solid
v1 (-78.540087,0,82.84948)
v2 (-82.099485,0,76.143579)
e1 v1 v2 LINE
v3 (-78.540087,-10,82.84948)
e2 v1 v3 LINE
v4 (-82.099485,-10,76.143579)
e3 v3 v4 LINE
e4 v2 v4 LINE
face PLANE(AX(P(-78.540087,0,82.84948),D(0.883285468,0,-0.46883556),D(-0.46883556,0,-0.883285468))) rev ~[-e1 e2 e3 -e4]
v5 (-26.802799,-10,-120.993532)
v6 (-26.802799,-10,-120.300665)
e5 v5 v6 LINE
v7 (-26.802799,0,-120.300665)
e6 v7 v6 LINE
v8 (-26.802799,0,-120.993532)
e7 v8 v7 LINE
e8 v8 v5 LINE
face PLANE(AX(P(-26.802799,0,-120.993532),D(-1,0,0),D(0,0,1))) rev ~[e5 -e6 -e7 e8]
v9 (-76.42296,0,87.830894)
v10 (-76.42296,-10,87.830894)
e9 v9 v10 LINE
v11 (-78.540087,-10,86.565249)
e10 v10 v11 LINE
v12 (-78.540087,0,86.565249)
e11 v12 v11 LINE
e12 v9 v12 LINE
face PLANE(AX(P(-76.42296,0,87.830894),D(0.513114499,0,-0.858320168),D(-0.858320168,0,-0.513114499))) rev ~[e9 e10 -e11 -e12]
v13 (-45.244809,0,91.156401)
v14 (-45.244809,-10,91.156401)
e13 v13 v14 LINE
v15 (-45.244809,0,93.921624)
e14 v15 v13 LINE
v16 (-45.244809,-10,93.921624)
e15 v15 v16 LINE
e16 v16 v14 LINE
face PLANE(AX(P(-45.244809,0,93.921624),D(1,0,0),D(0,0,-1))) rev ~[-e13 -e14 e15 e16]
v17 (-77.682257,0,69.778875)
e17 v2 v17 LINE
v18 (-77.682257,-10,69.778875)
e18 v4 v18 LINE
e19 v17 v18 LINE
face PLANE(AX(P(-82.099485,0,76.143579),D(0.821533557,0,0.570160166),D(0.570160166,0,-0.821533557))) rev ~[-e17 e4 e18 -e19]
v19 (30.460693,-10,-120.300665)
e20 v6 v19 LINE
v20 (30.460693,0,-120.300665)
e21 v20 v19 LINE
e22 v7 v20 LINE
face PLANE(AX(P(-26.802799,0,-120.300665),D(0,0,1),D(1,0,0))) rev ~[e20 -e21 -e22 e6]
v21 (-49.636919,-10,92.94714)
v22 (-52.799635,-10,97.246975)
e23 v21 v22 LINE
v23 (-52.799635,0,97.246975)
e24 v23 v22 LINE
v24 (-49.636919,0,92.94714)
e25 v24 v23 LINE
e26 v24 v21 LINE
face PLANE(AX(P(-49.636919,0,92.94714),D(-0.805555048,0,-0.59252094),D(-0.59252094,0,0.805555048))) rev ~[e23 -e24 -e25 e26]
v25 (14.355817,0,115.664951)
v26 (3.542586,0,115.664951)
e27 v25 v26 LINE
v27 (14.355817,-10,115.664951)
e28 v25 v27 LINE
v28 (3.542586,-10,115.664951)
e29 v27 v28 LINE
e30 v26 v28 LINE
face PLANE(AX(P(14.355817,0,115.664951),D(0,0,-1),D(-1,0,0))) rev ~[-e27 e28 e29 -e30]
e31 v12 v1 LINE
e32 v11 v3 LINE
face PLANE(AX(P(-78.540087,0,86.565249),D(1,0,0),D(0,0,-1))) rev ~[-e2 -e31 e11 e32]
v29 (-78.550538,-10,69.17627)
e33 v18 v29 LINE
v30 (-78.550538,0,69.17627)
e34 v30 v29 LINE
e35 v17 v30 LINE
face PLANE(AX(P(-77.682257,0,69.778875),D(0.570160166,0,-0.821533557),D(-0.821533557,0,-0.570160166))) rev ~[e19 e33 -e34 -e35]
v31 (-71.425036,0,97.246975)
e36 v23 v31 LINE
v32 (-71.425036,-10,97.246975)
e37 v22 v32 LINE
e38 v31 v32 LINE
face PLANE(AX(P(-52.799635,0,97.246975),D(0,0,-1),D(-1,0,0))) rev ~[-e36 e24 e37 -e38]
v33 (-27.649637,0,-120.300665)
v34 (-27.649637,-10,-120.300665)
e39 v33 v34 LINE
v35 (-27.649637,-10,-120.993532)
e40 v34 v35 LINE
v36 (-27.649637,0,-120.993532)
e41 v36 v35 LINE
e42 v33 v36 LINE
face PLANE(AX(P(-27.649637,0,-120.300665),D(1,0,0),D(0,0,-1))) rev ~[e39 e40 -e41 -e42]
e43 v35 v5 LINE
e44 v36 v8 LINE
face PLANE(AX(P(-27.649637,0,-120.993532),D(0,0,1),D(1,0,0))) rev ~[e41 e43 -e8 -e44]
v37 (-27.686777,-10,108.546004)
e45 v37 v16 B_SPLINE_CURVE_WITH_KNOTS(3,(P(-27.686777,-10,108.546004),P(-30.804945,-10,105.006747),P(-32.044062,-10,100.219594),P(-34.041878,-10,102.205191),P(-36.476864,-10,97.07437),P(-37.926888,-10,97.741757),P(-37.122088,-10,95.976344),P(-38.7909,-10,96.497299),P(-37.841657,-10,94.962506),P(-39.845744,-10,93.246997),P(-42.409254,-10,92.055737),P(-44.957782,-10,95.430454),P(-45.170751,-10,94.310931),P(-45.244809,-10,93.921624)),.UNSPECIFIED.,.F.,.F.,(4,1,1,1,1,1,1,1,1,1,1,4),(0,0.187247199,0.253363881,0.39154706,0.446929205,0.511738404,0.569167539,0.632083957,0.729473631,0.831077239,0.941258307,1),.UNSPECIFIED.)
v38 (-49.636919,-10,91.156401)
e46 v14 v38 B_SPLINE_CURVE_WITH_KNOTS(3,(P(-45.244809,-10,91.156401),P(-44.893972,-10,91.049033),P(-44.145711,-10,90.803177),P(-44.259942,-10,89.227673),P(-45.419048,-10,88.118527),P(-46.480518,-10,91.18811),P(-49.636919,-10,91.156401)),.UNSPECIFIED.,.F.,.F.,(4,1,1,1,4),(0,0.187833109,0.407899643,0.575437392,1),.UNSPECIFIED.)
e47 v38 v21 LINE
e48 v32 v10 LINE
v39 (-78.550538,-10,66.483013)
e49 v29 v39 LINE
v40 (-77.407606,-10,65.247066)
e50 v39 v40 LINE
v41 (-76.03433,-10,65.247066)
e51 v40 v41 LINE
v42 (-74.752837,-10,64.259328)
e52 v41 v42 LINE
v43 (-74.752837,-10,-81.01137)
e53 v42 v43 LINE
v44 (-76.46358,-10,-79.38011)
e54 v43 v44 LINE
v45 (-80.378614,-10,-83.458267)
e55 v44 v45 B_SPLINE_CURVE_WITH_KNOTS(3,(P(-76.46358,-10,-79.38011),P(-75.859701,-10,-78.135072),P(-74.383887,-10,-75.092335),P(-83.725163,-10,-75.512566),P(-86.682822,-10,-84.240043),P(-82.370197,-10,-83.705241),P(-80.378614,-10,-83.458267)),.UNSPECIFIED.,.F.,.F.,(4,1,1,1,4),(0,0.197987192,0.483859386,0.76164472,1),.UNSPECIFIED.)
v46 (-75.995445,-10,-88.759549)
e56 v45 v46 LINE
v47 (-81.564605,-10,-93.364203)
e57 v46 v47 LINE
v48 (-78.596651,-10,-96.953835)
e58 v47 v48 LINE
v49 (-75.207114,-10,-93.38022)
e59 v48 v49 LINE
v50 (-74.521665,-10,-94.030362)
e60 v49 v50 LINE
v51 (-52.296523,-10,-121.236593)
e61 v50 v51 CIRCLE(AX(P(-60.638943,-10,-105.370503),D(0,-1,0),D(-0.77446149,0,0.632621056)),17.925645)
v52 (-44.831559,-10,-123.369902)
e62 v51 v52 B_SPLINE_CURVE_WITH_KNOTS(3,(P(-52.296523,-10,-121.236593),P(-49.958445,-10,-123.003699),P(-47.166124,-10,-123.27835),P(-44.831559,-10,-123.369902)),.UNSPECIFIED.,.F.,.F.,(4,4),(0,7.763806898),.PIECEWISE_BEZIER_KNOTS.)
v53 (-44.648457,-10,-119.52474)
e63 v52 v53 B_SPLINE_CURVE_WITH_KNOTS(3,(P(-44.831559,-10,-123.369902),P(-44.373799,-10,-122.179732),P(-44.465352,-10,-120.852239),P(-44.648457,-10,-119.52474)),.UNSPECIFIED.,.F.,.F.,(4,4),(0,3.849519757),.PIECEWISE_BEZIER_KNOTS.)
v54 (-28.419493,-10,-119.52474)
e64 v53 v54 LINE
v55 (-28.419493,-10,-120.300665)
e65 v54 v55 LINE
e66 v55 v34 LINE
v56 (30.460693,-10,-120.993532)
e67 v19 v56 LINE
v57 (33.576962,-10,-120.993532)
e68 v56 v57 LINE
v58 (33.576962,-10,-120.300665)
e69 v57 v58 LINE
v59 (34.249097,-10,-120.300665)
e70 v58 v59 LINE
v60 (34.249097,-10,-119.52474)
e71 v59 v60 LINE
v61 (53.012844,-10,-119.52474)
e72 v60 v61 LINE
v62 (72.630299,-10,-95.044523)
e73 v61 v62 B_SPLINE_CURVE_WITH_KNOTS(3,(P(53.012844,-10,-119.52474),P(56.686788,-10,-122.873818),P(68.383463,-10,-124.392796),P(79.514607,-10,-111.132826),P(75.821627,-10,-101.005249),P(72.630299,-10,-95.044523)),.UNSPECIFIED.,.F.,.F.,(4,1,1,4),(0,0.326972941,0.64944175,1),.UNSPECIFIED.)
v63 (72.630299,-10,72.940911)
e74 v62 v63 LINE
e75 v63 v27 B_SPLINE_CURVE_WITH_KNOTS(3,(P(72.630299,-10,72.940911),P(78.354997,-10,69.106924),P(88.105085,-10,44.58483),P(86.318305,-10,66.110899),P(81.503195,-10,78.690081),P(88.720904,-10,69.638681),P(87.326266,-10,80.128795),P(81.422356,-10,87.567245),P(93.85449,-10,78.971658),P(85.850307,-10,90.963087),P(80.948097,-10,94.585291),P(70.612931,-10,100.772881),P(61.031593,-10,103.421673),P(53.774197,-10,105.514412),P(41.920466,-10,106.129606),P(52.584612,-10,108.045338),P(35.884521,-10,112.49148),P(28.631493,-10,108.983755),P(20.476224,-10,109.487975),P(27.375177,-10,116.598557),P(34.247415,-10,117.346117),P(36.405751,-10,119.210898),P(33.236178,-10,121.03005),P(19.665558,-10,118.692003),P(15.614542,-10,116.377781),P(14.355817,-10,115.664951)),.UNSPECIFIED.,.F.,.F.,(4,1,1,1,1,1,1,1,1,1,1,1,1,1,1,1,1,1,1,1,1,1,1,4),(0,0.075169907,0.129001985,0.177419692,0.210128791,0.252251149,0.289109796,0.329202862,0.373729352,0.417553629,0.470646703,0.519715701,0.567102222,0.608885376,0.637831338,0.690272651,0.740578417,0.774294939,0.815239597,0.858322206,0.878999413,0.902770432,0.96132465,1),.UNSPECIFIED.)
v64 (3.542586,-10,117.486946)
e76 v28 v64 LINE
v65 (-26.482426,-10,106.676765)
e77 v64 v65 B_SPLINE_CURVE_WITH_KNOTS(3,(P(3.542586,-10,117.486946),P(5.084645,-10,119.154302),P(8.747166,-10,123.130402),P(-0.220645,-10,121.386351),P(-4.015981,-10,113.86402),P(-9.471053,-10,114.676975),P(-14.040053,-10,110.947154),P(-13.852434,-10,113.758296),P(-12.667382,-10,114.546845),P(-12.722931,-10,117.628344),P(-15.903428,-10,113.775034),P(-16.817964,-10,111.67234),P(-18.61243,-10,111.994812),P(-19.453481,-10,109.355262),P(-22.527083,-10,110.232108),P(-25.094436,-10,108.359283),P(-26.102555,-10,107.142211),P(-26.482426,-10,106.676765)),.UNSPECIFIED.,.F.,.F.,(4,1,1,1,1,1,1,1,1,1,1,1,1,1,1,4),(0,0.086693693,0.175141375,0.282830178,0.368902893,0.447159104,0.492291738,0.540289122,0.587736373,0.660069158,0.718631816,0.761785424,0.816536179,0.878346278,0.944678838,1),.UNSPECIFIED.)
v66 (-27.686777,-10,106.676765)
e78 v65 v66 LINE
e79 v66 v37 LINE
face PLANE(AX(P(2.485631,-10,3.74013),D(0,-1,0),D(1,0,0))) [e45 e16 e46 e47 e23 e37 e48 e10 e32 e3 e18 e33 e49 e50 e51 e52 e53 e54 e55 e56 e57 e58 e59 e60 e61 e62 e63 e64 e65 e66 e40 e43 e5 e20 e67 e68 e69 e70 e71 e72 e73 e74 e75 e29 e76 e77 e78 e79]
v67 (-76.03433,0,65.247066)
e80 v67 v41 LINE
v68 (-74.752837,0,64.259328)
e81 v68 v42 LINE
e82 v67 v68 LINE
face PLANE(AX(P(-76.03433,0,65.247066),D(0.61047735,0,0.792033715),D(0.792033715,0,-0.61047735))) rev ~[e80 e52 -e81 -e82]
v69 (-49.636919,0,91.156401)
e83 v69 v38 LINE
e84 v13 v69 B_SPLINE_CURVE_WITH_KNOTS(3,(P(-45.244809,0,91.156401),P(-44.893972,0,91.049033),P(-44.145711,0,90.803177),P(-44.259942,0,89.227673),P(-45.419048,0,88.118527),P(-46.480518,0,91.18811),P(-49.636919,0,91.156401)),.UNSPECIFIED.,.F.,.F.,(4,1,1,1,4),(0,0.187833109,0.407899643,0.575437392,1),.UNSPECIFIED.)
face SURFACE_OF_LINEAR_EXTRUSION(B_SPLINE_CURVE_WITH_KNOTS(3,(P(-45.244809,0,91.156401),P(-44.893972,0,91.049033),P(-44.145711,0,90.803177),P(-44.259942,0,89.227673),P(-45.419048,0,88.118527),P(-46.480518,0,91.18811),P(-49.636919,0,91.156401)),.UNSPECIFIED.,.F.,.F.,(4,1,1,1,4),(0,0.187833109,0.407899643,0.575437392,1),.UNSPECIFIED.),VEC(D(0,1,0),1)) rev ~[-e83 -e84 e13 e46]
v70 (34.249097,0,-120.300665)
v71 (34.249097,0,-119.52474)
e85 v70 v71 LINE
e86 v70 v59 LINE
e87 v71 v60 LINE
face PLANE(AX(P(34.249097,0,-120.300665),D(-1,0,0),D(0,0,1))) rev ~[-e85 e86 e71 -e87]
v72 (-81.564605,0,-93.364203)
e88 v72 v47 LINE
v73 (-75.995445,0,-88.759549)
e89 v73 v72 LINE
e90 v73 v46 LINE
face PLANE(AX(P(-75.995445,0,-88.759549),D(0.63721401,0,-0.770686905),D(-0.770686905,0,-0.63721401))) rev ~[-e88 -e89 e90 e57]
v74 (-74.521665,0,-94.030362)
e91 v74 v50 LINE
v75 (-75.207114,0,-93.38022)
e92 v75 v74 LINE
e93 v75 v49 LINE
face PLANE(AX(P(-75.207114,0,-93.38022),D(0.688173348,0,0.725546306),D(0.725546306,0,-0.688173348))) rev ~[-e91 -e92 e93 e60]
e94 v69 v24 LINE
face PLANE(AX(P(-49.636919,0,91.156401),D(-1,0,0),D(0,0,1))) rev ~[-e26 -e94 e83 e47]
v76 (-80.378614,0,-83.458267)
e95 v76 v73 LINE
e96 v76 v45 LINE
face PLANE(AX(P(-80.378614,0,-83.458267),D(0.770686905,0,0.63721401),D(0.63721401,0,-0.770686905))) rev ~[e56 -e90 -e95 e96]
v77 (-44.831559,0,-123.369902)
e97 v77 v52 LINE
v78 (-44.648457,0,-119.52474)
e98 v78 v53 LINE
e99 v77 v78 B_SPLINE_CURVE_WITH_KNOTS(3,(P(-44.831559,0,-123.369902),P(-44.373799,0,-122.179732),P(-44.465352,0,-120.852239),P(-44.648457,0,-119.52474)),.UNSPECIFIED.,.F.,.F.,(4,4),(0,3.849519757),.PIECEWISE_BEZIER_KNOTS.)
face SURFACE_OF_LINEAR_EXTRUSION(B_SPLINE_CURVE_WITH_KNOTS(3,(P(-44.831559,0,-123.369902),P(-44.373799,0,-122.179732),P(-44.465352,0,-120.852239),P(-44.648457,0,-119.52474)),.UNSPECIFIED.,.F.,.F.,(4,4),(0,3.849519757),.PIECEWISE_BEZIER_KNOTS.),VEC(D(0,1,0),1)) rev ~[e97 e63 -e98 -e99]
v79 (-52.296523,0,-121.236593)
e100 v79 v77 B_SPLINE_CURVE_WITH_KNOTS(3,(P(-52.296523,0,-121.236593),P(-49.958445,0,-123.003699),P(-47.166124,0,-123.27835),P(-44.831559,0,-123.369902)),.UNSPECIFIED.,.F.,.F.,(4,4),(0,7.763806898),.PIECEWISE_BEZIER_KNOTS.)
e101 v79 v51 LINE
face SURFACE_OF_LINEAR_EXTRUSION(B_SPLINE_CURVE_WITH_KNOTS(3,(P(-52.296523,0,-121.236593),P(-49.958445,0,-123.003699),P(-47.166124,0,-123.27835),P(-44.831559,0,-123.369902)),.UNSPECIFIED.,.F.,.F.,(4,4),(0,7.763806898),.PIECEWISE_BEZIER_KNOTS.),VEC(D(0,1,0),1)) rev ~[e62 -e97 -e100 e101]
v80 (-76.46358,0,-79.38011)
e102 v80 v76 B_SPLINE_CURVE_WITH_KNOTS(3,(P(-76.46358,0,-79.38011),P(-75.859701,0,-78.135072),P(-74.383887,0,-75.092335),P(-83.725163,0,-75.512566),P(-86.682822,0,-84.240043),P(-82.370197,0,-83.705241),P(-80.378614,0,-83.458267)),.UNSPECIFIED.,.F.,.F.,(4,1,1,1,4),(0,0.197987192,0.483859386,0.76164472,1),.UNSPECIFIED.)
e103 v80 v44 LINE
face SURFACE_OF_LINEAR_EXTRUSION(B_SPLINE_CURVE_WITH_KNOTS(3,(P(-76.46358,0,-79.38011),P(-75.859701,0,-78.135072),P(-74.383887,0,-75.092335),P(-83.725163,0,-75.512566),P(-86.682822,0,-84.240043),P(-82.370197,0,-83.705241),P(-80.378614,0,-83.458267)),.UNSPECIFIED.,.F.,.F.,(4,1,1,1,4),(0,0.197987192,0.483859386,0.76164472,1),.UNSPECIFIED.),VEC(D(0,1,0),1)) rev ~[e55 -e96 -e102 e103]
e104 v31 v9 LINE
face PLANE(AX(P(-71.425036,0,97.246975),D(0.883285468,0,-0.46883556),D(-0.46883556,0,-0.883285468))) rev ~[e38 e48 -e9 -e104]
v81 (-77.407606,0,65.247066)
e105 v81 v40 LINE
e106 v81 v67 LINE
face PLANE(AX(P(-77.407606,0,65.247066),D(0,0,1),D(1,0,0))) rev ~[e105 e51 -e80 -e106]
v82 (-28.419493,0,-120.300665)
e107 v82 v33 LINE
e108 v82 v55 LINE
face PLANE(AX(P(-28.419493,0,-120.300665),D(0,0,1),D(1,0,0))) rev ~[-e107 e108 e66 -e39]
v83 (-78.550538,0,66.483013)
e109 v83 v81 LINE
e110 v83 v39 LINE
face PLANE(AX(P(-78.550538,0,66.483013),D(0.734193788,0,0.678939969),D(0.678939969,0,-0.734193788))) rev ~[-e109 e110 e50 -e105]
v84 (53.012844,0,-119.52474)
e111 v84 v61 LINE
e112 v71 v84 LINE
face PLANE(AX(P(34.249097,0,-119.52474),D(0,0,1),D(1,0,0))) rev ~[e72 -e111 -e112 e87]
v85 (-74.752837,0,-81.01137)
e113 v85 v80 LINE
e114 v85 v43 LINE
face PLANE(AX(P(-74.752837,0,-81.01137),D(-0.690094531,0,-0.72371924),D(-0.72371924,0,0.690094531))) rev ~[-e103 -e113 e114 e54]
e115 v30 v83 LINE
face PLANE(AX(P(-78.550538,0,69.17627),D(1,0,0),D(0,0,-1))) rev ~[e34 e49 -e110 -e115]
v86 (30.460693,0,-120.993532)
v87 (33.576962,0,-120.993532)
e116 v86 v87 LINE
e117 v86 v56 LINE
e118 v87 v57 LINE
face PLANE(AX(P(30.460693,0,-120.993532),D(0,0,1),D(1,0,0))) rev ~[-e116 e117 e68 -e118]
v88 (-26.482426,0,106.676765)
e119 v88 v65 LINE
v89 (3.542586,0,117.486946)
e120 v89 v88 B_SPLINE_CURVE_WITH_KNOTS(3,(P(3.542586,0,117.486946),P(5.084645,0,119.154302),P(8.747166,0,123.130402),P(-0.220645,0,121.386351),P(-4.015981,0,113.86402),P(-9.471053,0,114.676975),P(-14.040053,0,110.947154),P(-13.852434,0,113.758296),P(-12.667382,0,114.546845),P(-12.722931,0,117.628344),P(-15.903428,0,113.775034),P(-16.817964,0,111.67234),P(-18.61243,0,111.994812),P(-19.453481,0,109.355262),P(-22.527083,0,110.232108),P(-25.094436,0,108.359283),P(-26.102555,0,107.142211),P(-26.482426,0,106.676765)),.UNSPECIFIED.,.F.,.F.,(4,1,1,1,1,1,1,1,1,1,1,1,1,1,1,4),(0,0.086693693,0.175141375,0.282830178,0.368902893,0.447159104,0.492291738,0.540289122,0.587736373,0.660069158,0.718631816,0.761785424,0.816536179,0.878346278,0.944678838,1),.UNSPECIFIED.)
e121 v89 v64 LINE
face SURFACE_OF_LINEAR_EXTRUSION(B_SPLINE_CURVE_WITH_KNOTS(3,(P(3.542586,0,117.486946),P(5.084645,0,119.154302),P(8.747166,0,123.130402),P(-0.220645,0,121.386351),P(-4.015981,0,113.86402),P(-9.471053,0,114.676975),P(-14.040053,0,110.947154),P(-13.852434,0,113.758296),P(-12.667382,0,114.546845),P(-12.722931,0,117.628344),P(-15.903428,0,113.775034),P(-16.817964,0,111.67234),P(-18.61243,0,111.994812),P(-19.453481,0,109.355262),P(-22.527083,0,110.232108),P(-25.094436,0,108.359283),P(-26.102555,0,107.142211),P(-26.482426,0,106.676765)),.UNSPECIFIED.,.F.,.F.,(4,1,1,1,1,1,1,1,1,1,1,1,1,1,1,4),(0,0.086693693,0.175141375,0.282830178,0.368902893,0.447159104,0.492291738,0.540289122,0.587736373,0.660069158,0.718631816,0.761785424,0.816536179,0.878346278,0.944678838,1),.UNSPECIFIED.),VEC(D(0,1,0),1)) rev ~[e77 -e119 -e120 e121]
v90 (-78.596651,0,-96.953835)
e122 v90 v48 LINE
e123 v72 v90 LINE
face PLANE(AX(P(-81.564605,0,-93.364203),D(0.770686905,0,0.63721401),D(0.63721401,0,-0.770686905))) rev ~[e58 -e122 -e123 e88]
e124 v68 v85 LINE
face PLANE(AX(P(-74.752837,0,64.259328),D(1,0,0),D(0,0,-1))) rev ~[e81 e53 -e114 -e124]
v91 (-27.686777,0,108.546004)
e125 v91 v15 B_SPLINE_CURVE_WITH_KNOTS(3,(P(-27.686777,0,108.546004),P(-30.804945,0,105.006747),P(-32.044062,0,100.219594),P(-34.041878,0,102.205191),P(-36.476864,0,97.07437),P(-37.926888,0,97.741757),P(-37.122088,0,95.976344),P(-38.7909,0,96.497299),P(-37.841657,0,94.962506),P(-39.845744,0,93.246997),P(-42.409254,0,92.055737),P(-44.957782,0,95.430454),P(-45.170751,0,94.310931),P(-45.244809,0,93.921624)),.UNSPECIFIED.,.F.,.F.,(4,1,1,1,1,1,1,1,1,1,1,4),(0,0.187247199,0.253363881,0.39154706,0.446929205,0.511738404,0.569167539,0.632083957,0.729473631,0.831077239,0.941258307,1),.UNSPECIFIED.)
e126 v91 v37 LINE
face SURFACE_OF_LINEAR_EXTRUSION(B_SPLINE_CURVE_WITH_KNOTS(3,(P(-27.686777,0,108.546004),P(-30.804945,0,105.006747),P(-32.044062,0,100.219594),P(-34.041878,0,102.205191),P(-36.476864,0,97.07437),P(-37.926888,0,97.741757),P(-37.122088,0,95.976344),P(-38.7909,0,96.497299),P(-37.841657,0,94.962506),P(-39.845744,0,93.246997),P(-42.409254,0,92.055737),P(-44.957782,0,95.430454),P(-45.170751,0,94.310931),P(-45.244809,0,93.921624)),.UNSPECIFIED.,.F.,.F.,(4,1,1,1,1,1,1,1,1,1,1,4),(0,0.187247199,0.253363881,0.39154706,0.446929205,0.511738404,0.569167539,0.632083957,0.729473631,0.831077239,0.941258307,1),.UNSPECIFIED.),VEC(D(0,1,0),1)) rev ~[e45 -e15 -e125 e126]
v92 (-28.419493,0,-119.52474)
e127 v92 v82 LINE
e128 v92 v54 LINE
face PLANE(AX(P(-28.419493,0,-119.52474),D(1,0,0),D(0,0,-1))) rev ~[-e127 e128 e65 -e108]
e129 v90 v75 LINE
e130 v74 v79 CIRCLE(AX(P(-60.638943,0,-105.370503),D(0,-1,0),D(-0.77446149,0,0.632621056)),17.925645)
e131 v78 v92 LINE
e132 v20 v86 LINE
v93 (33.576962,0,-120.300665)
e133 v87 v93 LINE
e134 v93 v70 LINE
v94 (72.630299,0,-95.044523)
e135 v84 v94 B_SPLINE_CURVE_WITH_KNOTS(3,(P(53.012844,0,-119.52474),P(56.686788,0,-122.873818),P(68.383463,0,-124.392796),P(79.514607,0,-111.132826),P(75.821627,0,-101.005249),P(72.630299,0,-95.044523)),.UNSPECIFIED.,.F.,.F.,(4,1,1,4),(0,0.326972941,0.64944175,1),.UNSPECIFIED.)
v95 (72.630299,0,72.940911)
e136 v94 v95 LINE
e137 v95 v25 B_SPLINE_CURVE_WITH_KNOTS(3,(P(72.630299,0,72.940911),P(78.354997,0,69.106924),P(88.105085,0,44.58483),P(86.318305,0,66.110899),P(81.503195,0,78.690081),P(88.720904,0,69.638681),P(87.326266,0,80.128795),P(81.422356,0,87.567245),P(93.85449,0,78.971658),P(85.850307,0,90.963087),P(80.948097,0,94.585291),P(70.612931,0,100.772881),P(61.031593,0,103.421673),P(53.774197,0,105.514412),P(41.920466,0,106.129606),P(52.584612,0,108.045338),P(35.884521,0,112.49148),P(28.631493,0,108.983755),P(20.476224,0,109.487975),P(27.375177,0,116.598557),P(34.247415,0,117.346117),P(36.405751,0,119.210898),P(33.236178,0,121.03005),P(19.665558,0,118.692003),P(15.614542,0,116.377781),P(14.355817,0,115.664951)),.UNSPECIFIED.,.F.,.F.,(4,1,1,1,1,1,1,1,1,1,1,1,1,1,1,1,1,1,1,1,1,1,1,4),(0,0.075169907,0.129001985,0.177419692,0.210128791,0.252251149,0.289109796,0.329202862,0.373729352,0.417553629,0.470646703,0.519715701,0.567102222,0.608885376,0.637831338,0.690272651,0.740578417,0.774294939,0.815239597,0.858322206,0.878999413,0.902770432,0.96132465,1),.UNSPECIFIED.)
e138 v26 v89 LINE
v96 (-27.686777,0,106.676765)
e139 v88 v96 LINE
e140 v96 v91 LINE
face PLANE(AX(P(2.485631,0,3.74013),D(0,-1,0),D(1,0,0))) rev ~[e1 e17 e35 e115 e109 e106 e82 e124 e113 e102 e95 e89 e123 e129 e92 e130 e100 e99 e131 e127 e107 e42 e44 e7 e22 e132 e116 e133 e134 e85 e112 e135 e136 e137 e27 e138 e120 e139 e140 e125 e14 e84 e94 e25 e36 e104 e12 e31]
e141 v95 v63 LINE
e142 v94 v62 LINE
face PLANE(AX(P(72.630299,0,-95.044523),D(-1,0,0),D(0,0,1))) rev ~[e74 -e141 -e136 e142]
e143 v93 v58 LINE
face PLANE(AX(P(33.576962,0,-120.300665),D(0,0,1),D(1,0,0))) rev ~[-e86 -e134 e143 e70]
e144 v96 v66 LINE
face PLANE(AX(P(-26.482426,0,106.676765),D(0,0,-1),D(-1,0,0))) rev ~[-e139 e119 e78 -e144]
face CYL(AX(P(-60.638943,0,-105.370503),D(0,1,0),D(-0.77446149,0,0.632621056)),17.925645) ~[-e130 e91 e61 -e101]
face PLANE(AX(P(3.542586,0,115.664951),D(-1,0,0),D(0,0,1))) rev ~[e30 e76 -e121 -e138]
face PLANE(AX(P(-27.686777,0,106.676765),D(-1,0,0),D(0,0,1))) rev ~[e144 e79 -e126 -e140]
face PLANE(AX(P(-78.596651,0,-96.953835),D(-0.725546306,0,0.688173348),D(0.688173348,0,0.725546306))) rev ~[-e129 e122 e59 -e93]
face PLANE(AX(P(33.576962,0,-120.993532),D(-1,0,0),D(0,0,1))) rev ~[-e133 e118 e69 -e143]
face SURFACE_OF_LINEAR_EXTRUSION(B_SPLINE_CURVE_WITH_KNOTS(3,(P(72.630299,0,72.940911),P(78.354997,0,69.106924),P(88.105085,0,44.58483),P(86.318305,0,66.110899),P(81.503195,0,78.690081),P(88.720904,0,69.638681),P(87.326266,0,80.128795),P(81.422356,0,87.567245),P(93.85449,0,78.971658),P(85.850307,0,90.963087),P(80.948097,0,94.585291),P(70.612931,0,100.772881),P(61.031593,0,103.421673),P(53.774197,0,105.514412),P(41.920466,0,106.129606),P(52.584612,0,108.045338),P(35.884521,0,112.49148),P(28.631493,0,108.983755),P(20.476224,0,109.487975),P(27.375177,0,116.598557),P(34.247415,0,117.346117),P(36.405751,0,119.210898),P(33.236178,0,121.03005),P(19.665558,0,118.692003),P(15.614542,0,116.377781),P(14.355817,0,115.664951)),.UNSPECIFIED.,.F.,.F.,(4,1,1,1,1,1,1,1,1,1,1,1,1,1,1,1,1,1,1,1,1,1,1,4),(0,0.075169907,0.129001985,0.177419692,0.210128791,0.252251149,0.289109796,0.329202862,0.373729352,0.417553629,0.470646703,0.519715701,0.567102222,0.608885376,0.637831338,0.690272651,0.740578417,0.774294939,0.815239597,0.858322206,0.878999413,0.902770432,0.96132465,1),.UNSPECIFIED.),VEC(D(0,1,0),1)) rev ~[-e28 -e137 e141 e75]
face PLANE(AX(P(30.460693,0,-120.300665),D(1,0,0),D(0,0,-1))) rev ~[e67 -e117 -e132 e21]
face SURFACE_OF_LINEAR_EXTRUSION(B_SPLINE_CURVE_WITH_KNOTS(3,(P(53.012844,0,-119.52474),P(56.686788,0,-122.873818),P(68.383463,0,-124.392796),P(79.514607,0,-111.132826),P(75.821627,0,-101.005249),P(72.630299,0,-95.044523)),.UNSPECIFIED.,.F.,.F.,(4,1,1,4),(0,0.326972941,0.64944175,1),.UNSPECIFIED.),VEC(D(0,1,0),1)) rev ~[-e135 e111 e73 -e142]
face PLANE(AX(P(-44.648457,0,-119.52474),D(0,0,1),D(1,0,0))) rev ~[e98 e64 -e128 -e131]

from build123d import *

# Parameters (mm, degrees)
F1_DEPTH = 10


with BuildPart() as f1:
    # F0 (on Front) → F1 (new body)
    with BuildSketch(Plane.XZ):
        with BuildLine():
            Line((-76.0343298316, 65.247066319), (-74.7528374195, 64.2593279481))
            Line((-74.7528374195, 64.2593279481), (-74.7528374195, -81.0113698244))
            Line((-74.7528374195, -81.0113698244), (-76.4635801315, -79.3801099062))
            add(Edge.make_bspline(
                [(-76.4635801315, -79.3801099062), (-75.8597014247, -78.1350723595), (-74.38388687, -75.0923346181), (-83.7251625502, -75.51256552), (-86.682822247, -84.2400434032), (-82.3701974138, -83.7052406592), (-80.3786143661, -83.4582671523)],
                knots=[0, 0, 0, 0, 0.1979871923, 0.4838593856, 0.7616447204, 1, 1, 1, 1], degree=3))
            Line((-80.3786143661, -83.4582671523), (-75.9954452515, -88.7595489621))
            Line((-75.9954452515, -88.7595489621), (-81.5646054561, -93.364203436))
            Line((-81.5646054561, -93.364203436), (-78.5966514293, -96.9538346556))
            Line((-78.5966514293, -96.9538346556), (-75.2071142197, -93.3802202344))
            Line((-75.2071142197, -93.3802202344), (-74.5216647549, -94.0303621334))
            ThreePointArc((-74.5216647549, -94.0303621334), (-74.5212508461, -116.7111503548), (-52.2965230048, -121.2365925312))
            add(Edge.make_bspline(
                [(-52.2965230048, -121.2365925312), (-49.9584451318, -123.0036988854), (-47.1661239862, -123.278349638), (-44.831559062, -123.3699023724)],
                knots=[0, 0, 0, 0, 7.7638068977, 7.7638068977, 7.7638068977, 7.7638068977], degree=3))
            add(Edge.make_bspline(
                [(-44.831559062, -123.3699023724), (-44.3737991154, -122.1797317266), (-44.4653518498, -120.85223943), (-44.6484573185, -119.5247396827)],
                knots=[0, 0, 0, 0, 3.8495197569, 3.8495197569, 3.8495197569, 3.8495197569], degree=3))
            Line((-44.6484573185, -119.5247396827), (-28.4194927663, -119.5247396827))
            Line((-28.4194927663, -119.5247396827), (-28.4194927663, -120.3006654978))
            Line((-28.4194927663, -120.3006654978), (-27.6496373117, -120.3006654978))
            Line((-27.6496373117, -120.3006654978), (-27.6496373117, -120.9935322404))
            Line((-27.6496373117, -120.9935322404), (-26.8027987331, -120.9935322404))
            Line((-26.8027987331, -120.9935322404), (-26.8027987331, -120.3006654978))
            Line((-26.8027987331, -120.3006654978), (30.4606929421, -120.3006654978))
            Line((30.4606929421, -120.3006654978), (30.4606929421, -120.9935322404))
            Line((30.4606929421, -120.9935322404), (33.5769616067, -120.9935322404))
            Line((33.5769616067, -120.9935322404), (33.5769616067, -120.3006654978))
            Line((33.5769616067, -120.3006654978), (34.2490971088, -120.3006654978))
            Line((34.2490971088, -120.3006654978), (34.2490971088, -119.5247396827))
            Line((34.2490971088, -119.5247396827), (53.0128441751, -119.5247396827))
            add(Edge.make_bspline(
                [(53.0128441751, -119.5247396827), (56.6867876337, -122.8738181923), (68.3834625305, -124.3927963951), (79.5146073452, -111.1328256453), (75.8216270291, -101.00524933), (72.6302986431, -95.0445234776)],
                knots=[0, 0, 0, 0, 0.326972941, 0.6494417501, 1, 1, 1, 1], degree=3))
            Line((72.6302986431, -95.0445234776), (72.6302986431, 72.9409110646))
            add(Edge.make_bspline(
                [(72.6302986431, 72.9409110646), (78.3549974252, 69.1069244126), (88.1050849711, 44.5848299603), (86.3183054465, 66.1108992051), (81.5031950886, 78.6900807549), (88.7209038255, 69.6386807005), (87.326265989, 80.1287945298), (81.4223562698, 87.5672452077), (93.8544902752, 78.9716576404), (85.8503073652, 90.9630870856), (80.9480973955, 94.5852914911), (70.61293057, 100.7728813906), (61.0315932807, 103.4216731792), (53.7741972923, 105.5144117546), (41.9204664331, 106.1296059585), (52.5846122111, 108.0453381737), (35.8845205713, 112.4914797344), (28.6314928232, 108.9837550589), (20.4762239158, 109.4879750129), (27.3751767133, 116.5985572916), (34.2474152025, 117.3461166133), (36.4057508864, 119.210898049), (33.2361782198, 121.0300498872), (19.6655584132, 118.6920033999), (15.6145416363, 116.3777809293), (14.3558174983, 115.6649505334)],
                knots=[0, 0, 0, 0, 0.0751699071, 0.1290019852, 0.1774196917, 0.2101287908, 0.2522511492, 0.2891097961, 0.3292028621, 0.3737293524, 0.417553629, 0.4706467031, 0.5197157012, 0.5671022215, 0.6088853764, 0.6378313385, 0.6902726511, 0.740578417, 0.7742949388, 0.8152395972, 0.8583222063, 0.878999413, 0.9027704318, 0.96132465, 1, 1, 1, 1], degree=3))
            Line((14.3558174983, 115.6649505334), (3.5425864626, 115.6649505334))
            Line((3.5425864626, 115.6649505334), (3.5425864626, 117.4869462848))
            add(Edge.make_bspline(
                [(3.5425864626, 117.4869462848), (5.0846447535, 119.1543024523), (8.7471655861, 123.1304023557), (-0.2206452735, 121.3863510411), (-4.0159812684, 113.8640204534), (-9.4710529705, 114.6769745125), (-14.0400530005, 110.9471539466), (-13.8524341575, 113.7582960261), (-12.6673817279, 114.546845304), (-12.7229314222, 117.6283436718), (-15.9034276402, 113.775034412), (-16.817964407, 111.6723404439), (-18.6124301024, 111.9948124068), (-19.4534811463, 109.3552615086), (-22.5270831738, 110.2321080539), (-25.0944355928, 108.3592830328), (-26.1025552777, 107.1422113961), (-26.4824256301, 106.6767647862)],
                knots=[0, 0, 0, 0, 0.0866936929, 0.1751413751, 0.2828301785, 0.3689028933, 0.4471591041, 0.4922917384, 0.5402891223, 0.5877363731, 0.6600691576, 0.7186318162, 0.7617854235, 0.8165361787, 0.8783462783, 0.9446788382, 1, 1, 1, 1], degree=3))
            Line((-26.4824256301, 106.6767647862), (-27.6867765933, 106.6767647862))
            Line((-27.6867765933, 106.6767647862), (-27.6867765933, 108.5460036993))
            add(Edge.make_bspline(
                [(-27.6867765933, 108.5460036993), (-30.804945156, 105.0067469478), (-32.0440618318, 100.2195935299), (-34.0418783598, 102.2051911967), (-36.4768639406, 97.0743698095), (-37.9268884434, 97.7417569788), (-37.1220876621, 95.9763435702), (-38.7909003179, 96.4972994372), (-37.8416565919, 94.9625062317), (-39.8457443547, 93.2469970355), (-42.4092535372, 92.0557374821), (-44.9577824606, 95.4304543419), (-45.17075076, 94.3109305772), (-45.2448092401, 93.9216241241)],
                knots=[0, 0, 0, 0, 0.1872471992, 0.2533638808, 0.3915470599, 0.4469292053, 0.5117384042, 0.5691675388, 0.632083957, 0.7294736308, 0.8310772389, 0.9412583073, 1, 1, 1, 1], degree=3))
            Line((-45.2448092401, 93.9216241241), (-45.2448092401, 91.1564007401))
            add(Edge.make_bspline(
                [(-45.2448092401, 91.1564007401), (-44.8939720418, 91.0490330045), (-44.1457111781, 90.8031771533), (-44.2599424272, 89.227672934), (-45.4190475442, 88.1185270879), (-46.4805178344, 91.1881104112), (-49.6369190514, 91.1564007401)],
                knots=[0, 0, 0, 0, 0.1878331088, 0.4078996431, 0.5754373916, 1, 1, 1, 1], degree=3))
            Line((-49.6369190514, 91.1564007401), (-49.6369190514, 92.947140336))
            Line((-49.6369190514, 92.947140336), (-52.7996351301, 97.2469747066))
            Line((-52.7996351301, 97.2469747066), (-71.4250355959, 97.2469747066))
            Line((-71.4250355959, 97.2469747066), (-76.4229595661, 87.8308936954))
            Line((-76.4229595661, 87.8308936954), (-78.5400867462, 86.5652486682))
            Line((-78.5400867462, 86.5652486682), (-78.5400867462, 82.8494802117))
            Line((-78.5400867462, 82.8494802117), (-82.099484963, 76.1435794897))
            Line((-82.099484963, 76.1435794897), (-77.6822566986, 69.7788745165))
            Line((-77.6822566986, 69.7788745165), (-78.5505382905, 69.1762703101))
            Line((-78.5505382905, 69.1762703101), (-78.5505382905, 66.4830133319))
            Line((-78.5505382905, 66.4830133319), (-77.4076059461, 65.247066319))
            Line((-77.4076059461, 65.247066319), (-76.0343298316, 65.247066319))
        make_face()
    extrude(amount=F1_DEPTH)


solid = f1.part
